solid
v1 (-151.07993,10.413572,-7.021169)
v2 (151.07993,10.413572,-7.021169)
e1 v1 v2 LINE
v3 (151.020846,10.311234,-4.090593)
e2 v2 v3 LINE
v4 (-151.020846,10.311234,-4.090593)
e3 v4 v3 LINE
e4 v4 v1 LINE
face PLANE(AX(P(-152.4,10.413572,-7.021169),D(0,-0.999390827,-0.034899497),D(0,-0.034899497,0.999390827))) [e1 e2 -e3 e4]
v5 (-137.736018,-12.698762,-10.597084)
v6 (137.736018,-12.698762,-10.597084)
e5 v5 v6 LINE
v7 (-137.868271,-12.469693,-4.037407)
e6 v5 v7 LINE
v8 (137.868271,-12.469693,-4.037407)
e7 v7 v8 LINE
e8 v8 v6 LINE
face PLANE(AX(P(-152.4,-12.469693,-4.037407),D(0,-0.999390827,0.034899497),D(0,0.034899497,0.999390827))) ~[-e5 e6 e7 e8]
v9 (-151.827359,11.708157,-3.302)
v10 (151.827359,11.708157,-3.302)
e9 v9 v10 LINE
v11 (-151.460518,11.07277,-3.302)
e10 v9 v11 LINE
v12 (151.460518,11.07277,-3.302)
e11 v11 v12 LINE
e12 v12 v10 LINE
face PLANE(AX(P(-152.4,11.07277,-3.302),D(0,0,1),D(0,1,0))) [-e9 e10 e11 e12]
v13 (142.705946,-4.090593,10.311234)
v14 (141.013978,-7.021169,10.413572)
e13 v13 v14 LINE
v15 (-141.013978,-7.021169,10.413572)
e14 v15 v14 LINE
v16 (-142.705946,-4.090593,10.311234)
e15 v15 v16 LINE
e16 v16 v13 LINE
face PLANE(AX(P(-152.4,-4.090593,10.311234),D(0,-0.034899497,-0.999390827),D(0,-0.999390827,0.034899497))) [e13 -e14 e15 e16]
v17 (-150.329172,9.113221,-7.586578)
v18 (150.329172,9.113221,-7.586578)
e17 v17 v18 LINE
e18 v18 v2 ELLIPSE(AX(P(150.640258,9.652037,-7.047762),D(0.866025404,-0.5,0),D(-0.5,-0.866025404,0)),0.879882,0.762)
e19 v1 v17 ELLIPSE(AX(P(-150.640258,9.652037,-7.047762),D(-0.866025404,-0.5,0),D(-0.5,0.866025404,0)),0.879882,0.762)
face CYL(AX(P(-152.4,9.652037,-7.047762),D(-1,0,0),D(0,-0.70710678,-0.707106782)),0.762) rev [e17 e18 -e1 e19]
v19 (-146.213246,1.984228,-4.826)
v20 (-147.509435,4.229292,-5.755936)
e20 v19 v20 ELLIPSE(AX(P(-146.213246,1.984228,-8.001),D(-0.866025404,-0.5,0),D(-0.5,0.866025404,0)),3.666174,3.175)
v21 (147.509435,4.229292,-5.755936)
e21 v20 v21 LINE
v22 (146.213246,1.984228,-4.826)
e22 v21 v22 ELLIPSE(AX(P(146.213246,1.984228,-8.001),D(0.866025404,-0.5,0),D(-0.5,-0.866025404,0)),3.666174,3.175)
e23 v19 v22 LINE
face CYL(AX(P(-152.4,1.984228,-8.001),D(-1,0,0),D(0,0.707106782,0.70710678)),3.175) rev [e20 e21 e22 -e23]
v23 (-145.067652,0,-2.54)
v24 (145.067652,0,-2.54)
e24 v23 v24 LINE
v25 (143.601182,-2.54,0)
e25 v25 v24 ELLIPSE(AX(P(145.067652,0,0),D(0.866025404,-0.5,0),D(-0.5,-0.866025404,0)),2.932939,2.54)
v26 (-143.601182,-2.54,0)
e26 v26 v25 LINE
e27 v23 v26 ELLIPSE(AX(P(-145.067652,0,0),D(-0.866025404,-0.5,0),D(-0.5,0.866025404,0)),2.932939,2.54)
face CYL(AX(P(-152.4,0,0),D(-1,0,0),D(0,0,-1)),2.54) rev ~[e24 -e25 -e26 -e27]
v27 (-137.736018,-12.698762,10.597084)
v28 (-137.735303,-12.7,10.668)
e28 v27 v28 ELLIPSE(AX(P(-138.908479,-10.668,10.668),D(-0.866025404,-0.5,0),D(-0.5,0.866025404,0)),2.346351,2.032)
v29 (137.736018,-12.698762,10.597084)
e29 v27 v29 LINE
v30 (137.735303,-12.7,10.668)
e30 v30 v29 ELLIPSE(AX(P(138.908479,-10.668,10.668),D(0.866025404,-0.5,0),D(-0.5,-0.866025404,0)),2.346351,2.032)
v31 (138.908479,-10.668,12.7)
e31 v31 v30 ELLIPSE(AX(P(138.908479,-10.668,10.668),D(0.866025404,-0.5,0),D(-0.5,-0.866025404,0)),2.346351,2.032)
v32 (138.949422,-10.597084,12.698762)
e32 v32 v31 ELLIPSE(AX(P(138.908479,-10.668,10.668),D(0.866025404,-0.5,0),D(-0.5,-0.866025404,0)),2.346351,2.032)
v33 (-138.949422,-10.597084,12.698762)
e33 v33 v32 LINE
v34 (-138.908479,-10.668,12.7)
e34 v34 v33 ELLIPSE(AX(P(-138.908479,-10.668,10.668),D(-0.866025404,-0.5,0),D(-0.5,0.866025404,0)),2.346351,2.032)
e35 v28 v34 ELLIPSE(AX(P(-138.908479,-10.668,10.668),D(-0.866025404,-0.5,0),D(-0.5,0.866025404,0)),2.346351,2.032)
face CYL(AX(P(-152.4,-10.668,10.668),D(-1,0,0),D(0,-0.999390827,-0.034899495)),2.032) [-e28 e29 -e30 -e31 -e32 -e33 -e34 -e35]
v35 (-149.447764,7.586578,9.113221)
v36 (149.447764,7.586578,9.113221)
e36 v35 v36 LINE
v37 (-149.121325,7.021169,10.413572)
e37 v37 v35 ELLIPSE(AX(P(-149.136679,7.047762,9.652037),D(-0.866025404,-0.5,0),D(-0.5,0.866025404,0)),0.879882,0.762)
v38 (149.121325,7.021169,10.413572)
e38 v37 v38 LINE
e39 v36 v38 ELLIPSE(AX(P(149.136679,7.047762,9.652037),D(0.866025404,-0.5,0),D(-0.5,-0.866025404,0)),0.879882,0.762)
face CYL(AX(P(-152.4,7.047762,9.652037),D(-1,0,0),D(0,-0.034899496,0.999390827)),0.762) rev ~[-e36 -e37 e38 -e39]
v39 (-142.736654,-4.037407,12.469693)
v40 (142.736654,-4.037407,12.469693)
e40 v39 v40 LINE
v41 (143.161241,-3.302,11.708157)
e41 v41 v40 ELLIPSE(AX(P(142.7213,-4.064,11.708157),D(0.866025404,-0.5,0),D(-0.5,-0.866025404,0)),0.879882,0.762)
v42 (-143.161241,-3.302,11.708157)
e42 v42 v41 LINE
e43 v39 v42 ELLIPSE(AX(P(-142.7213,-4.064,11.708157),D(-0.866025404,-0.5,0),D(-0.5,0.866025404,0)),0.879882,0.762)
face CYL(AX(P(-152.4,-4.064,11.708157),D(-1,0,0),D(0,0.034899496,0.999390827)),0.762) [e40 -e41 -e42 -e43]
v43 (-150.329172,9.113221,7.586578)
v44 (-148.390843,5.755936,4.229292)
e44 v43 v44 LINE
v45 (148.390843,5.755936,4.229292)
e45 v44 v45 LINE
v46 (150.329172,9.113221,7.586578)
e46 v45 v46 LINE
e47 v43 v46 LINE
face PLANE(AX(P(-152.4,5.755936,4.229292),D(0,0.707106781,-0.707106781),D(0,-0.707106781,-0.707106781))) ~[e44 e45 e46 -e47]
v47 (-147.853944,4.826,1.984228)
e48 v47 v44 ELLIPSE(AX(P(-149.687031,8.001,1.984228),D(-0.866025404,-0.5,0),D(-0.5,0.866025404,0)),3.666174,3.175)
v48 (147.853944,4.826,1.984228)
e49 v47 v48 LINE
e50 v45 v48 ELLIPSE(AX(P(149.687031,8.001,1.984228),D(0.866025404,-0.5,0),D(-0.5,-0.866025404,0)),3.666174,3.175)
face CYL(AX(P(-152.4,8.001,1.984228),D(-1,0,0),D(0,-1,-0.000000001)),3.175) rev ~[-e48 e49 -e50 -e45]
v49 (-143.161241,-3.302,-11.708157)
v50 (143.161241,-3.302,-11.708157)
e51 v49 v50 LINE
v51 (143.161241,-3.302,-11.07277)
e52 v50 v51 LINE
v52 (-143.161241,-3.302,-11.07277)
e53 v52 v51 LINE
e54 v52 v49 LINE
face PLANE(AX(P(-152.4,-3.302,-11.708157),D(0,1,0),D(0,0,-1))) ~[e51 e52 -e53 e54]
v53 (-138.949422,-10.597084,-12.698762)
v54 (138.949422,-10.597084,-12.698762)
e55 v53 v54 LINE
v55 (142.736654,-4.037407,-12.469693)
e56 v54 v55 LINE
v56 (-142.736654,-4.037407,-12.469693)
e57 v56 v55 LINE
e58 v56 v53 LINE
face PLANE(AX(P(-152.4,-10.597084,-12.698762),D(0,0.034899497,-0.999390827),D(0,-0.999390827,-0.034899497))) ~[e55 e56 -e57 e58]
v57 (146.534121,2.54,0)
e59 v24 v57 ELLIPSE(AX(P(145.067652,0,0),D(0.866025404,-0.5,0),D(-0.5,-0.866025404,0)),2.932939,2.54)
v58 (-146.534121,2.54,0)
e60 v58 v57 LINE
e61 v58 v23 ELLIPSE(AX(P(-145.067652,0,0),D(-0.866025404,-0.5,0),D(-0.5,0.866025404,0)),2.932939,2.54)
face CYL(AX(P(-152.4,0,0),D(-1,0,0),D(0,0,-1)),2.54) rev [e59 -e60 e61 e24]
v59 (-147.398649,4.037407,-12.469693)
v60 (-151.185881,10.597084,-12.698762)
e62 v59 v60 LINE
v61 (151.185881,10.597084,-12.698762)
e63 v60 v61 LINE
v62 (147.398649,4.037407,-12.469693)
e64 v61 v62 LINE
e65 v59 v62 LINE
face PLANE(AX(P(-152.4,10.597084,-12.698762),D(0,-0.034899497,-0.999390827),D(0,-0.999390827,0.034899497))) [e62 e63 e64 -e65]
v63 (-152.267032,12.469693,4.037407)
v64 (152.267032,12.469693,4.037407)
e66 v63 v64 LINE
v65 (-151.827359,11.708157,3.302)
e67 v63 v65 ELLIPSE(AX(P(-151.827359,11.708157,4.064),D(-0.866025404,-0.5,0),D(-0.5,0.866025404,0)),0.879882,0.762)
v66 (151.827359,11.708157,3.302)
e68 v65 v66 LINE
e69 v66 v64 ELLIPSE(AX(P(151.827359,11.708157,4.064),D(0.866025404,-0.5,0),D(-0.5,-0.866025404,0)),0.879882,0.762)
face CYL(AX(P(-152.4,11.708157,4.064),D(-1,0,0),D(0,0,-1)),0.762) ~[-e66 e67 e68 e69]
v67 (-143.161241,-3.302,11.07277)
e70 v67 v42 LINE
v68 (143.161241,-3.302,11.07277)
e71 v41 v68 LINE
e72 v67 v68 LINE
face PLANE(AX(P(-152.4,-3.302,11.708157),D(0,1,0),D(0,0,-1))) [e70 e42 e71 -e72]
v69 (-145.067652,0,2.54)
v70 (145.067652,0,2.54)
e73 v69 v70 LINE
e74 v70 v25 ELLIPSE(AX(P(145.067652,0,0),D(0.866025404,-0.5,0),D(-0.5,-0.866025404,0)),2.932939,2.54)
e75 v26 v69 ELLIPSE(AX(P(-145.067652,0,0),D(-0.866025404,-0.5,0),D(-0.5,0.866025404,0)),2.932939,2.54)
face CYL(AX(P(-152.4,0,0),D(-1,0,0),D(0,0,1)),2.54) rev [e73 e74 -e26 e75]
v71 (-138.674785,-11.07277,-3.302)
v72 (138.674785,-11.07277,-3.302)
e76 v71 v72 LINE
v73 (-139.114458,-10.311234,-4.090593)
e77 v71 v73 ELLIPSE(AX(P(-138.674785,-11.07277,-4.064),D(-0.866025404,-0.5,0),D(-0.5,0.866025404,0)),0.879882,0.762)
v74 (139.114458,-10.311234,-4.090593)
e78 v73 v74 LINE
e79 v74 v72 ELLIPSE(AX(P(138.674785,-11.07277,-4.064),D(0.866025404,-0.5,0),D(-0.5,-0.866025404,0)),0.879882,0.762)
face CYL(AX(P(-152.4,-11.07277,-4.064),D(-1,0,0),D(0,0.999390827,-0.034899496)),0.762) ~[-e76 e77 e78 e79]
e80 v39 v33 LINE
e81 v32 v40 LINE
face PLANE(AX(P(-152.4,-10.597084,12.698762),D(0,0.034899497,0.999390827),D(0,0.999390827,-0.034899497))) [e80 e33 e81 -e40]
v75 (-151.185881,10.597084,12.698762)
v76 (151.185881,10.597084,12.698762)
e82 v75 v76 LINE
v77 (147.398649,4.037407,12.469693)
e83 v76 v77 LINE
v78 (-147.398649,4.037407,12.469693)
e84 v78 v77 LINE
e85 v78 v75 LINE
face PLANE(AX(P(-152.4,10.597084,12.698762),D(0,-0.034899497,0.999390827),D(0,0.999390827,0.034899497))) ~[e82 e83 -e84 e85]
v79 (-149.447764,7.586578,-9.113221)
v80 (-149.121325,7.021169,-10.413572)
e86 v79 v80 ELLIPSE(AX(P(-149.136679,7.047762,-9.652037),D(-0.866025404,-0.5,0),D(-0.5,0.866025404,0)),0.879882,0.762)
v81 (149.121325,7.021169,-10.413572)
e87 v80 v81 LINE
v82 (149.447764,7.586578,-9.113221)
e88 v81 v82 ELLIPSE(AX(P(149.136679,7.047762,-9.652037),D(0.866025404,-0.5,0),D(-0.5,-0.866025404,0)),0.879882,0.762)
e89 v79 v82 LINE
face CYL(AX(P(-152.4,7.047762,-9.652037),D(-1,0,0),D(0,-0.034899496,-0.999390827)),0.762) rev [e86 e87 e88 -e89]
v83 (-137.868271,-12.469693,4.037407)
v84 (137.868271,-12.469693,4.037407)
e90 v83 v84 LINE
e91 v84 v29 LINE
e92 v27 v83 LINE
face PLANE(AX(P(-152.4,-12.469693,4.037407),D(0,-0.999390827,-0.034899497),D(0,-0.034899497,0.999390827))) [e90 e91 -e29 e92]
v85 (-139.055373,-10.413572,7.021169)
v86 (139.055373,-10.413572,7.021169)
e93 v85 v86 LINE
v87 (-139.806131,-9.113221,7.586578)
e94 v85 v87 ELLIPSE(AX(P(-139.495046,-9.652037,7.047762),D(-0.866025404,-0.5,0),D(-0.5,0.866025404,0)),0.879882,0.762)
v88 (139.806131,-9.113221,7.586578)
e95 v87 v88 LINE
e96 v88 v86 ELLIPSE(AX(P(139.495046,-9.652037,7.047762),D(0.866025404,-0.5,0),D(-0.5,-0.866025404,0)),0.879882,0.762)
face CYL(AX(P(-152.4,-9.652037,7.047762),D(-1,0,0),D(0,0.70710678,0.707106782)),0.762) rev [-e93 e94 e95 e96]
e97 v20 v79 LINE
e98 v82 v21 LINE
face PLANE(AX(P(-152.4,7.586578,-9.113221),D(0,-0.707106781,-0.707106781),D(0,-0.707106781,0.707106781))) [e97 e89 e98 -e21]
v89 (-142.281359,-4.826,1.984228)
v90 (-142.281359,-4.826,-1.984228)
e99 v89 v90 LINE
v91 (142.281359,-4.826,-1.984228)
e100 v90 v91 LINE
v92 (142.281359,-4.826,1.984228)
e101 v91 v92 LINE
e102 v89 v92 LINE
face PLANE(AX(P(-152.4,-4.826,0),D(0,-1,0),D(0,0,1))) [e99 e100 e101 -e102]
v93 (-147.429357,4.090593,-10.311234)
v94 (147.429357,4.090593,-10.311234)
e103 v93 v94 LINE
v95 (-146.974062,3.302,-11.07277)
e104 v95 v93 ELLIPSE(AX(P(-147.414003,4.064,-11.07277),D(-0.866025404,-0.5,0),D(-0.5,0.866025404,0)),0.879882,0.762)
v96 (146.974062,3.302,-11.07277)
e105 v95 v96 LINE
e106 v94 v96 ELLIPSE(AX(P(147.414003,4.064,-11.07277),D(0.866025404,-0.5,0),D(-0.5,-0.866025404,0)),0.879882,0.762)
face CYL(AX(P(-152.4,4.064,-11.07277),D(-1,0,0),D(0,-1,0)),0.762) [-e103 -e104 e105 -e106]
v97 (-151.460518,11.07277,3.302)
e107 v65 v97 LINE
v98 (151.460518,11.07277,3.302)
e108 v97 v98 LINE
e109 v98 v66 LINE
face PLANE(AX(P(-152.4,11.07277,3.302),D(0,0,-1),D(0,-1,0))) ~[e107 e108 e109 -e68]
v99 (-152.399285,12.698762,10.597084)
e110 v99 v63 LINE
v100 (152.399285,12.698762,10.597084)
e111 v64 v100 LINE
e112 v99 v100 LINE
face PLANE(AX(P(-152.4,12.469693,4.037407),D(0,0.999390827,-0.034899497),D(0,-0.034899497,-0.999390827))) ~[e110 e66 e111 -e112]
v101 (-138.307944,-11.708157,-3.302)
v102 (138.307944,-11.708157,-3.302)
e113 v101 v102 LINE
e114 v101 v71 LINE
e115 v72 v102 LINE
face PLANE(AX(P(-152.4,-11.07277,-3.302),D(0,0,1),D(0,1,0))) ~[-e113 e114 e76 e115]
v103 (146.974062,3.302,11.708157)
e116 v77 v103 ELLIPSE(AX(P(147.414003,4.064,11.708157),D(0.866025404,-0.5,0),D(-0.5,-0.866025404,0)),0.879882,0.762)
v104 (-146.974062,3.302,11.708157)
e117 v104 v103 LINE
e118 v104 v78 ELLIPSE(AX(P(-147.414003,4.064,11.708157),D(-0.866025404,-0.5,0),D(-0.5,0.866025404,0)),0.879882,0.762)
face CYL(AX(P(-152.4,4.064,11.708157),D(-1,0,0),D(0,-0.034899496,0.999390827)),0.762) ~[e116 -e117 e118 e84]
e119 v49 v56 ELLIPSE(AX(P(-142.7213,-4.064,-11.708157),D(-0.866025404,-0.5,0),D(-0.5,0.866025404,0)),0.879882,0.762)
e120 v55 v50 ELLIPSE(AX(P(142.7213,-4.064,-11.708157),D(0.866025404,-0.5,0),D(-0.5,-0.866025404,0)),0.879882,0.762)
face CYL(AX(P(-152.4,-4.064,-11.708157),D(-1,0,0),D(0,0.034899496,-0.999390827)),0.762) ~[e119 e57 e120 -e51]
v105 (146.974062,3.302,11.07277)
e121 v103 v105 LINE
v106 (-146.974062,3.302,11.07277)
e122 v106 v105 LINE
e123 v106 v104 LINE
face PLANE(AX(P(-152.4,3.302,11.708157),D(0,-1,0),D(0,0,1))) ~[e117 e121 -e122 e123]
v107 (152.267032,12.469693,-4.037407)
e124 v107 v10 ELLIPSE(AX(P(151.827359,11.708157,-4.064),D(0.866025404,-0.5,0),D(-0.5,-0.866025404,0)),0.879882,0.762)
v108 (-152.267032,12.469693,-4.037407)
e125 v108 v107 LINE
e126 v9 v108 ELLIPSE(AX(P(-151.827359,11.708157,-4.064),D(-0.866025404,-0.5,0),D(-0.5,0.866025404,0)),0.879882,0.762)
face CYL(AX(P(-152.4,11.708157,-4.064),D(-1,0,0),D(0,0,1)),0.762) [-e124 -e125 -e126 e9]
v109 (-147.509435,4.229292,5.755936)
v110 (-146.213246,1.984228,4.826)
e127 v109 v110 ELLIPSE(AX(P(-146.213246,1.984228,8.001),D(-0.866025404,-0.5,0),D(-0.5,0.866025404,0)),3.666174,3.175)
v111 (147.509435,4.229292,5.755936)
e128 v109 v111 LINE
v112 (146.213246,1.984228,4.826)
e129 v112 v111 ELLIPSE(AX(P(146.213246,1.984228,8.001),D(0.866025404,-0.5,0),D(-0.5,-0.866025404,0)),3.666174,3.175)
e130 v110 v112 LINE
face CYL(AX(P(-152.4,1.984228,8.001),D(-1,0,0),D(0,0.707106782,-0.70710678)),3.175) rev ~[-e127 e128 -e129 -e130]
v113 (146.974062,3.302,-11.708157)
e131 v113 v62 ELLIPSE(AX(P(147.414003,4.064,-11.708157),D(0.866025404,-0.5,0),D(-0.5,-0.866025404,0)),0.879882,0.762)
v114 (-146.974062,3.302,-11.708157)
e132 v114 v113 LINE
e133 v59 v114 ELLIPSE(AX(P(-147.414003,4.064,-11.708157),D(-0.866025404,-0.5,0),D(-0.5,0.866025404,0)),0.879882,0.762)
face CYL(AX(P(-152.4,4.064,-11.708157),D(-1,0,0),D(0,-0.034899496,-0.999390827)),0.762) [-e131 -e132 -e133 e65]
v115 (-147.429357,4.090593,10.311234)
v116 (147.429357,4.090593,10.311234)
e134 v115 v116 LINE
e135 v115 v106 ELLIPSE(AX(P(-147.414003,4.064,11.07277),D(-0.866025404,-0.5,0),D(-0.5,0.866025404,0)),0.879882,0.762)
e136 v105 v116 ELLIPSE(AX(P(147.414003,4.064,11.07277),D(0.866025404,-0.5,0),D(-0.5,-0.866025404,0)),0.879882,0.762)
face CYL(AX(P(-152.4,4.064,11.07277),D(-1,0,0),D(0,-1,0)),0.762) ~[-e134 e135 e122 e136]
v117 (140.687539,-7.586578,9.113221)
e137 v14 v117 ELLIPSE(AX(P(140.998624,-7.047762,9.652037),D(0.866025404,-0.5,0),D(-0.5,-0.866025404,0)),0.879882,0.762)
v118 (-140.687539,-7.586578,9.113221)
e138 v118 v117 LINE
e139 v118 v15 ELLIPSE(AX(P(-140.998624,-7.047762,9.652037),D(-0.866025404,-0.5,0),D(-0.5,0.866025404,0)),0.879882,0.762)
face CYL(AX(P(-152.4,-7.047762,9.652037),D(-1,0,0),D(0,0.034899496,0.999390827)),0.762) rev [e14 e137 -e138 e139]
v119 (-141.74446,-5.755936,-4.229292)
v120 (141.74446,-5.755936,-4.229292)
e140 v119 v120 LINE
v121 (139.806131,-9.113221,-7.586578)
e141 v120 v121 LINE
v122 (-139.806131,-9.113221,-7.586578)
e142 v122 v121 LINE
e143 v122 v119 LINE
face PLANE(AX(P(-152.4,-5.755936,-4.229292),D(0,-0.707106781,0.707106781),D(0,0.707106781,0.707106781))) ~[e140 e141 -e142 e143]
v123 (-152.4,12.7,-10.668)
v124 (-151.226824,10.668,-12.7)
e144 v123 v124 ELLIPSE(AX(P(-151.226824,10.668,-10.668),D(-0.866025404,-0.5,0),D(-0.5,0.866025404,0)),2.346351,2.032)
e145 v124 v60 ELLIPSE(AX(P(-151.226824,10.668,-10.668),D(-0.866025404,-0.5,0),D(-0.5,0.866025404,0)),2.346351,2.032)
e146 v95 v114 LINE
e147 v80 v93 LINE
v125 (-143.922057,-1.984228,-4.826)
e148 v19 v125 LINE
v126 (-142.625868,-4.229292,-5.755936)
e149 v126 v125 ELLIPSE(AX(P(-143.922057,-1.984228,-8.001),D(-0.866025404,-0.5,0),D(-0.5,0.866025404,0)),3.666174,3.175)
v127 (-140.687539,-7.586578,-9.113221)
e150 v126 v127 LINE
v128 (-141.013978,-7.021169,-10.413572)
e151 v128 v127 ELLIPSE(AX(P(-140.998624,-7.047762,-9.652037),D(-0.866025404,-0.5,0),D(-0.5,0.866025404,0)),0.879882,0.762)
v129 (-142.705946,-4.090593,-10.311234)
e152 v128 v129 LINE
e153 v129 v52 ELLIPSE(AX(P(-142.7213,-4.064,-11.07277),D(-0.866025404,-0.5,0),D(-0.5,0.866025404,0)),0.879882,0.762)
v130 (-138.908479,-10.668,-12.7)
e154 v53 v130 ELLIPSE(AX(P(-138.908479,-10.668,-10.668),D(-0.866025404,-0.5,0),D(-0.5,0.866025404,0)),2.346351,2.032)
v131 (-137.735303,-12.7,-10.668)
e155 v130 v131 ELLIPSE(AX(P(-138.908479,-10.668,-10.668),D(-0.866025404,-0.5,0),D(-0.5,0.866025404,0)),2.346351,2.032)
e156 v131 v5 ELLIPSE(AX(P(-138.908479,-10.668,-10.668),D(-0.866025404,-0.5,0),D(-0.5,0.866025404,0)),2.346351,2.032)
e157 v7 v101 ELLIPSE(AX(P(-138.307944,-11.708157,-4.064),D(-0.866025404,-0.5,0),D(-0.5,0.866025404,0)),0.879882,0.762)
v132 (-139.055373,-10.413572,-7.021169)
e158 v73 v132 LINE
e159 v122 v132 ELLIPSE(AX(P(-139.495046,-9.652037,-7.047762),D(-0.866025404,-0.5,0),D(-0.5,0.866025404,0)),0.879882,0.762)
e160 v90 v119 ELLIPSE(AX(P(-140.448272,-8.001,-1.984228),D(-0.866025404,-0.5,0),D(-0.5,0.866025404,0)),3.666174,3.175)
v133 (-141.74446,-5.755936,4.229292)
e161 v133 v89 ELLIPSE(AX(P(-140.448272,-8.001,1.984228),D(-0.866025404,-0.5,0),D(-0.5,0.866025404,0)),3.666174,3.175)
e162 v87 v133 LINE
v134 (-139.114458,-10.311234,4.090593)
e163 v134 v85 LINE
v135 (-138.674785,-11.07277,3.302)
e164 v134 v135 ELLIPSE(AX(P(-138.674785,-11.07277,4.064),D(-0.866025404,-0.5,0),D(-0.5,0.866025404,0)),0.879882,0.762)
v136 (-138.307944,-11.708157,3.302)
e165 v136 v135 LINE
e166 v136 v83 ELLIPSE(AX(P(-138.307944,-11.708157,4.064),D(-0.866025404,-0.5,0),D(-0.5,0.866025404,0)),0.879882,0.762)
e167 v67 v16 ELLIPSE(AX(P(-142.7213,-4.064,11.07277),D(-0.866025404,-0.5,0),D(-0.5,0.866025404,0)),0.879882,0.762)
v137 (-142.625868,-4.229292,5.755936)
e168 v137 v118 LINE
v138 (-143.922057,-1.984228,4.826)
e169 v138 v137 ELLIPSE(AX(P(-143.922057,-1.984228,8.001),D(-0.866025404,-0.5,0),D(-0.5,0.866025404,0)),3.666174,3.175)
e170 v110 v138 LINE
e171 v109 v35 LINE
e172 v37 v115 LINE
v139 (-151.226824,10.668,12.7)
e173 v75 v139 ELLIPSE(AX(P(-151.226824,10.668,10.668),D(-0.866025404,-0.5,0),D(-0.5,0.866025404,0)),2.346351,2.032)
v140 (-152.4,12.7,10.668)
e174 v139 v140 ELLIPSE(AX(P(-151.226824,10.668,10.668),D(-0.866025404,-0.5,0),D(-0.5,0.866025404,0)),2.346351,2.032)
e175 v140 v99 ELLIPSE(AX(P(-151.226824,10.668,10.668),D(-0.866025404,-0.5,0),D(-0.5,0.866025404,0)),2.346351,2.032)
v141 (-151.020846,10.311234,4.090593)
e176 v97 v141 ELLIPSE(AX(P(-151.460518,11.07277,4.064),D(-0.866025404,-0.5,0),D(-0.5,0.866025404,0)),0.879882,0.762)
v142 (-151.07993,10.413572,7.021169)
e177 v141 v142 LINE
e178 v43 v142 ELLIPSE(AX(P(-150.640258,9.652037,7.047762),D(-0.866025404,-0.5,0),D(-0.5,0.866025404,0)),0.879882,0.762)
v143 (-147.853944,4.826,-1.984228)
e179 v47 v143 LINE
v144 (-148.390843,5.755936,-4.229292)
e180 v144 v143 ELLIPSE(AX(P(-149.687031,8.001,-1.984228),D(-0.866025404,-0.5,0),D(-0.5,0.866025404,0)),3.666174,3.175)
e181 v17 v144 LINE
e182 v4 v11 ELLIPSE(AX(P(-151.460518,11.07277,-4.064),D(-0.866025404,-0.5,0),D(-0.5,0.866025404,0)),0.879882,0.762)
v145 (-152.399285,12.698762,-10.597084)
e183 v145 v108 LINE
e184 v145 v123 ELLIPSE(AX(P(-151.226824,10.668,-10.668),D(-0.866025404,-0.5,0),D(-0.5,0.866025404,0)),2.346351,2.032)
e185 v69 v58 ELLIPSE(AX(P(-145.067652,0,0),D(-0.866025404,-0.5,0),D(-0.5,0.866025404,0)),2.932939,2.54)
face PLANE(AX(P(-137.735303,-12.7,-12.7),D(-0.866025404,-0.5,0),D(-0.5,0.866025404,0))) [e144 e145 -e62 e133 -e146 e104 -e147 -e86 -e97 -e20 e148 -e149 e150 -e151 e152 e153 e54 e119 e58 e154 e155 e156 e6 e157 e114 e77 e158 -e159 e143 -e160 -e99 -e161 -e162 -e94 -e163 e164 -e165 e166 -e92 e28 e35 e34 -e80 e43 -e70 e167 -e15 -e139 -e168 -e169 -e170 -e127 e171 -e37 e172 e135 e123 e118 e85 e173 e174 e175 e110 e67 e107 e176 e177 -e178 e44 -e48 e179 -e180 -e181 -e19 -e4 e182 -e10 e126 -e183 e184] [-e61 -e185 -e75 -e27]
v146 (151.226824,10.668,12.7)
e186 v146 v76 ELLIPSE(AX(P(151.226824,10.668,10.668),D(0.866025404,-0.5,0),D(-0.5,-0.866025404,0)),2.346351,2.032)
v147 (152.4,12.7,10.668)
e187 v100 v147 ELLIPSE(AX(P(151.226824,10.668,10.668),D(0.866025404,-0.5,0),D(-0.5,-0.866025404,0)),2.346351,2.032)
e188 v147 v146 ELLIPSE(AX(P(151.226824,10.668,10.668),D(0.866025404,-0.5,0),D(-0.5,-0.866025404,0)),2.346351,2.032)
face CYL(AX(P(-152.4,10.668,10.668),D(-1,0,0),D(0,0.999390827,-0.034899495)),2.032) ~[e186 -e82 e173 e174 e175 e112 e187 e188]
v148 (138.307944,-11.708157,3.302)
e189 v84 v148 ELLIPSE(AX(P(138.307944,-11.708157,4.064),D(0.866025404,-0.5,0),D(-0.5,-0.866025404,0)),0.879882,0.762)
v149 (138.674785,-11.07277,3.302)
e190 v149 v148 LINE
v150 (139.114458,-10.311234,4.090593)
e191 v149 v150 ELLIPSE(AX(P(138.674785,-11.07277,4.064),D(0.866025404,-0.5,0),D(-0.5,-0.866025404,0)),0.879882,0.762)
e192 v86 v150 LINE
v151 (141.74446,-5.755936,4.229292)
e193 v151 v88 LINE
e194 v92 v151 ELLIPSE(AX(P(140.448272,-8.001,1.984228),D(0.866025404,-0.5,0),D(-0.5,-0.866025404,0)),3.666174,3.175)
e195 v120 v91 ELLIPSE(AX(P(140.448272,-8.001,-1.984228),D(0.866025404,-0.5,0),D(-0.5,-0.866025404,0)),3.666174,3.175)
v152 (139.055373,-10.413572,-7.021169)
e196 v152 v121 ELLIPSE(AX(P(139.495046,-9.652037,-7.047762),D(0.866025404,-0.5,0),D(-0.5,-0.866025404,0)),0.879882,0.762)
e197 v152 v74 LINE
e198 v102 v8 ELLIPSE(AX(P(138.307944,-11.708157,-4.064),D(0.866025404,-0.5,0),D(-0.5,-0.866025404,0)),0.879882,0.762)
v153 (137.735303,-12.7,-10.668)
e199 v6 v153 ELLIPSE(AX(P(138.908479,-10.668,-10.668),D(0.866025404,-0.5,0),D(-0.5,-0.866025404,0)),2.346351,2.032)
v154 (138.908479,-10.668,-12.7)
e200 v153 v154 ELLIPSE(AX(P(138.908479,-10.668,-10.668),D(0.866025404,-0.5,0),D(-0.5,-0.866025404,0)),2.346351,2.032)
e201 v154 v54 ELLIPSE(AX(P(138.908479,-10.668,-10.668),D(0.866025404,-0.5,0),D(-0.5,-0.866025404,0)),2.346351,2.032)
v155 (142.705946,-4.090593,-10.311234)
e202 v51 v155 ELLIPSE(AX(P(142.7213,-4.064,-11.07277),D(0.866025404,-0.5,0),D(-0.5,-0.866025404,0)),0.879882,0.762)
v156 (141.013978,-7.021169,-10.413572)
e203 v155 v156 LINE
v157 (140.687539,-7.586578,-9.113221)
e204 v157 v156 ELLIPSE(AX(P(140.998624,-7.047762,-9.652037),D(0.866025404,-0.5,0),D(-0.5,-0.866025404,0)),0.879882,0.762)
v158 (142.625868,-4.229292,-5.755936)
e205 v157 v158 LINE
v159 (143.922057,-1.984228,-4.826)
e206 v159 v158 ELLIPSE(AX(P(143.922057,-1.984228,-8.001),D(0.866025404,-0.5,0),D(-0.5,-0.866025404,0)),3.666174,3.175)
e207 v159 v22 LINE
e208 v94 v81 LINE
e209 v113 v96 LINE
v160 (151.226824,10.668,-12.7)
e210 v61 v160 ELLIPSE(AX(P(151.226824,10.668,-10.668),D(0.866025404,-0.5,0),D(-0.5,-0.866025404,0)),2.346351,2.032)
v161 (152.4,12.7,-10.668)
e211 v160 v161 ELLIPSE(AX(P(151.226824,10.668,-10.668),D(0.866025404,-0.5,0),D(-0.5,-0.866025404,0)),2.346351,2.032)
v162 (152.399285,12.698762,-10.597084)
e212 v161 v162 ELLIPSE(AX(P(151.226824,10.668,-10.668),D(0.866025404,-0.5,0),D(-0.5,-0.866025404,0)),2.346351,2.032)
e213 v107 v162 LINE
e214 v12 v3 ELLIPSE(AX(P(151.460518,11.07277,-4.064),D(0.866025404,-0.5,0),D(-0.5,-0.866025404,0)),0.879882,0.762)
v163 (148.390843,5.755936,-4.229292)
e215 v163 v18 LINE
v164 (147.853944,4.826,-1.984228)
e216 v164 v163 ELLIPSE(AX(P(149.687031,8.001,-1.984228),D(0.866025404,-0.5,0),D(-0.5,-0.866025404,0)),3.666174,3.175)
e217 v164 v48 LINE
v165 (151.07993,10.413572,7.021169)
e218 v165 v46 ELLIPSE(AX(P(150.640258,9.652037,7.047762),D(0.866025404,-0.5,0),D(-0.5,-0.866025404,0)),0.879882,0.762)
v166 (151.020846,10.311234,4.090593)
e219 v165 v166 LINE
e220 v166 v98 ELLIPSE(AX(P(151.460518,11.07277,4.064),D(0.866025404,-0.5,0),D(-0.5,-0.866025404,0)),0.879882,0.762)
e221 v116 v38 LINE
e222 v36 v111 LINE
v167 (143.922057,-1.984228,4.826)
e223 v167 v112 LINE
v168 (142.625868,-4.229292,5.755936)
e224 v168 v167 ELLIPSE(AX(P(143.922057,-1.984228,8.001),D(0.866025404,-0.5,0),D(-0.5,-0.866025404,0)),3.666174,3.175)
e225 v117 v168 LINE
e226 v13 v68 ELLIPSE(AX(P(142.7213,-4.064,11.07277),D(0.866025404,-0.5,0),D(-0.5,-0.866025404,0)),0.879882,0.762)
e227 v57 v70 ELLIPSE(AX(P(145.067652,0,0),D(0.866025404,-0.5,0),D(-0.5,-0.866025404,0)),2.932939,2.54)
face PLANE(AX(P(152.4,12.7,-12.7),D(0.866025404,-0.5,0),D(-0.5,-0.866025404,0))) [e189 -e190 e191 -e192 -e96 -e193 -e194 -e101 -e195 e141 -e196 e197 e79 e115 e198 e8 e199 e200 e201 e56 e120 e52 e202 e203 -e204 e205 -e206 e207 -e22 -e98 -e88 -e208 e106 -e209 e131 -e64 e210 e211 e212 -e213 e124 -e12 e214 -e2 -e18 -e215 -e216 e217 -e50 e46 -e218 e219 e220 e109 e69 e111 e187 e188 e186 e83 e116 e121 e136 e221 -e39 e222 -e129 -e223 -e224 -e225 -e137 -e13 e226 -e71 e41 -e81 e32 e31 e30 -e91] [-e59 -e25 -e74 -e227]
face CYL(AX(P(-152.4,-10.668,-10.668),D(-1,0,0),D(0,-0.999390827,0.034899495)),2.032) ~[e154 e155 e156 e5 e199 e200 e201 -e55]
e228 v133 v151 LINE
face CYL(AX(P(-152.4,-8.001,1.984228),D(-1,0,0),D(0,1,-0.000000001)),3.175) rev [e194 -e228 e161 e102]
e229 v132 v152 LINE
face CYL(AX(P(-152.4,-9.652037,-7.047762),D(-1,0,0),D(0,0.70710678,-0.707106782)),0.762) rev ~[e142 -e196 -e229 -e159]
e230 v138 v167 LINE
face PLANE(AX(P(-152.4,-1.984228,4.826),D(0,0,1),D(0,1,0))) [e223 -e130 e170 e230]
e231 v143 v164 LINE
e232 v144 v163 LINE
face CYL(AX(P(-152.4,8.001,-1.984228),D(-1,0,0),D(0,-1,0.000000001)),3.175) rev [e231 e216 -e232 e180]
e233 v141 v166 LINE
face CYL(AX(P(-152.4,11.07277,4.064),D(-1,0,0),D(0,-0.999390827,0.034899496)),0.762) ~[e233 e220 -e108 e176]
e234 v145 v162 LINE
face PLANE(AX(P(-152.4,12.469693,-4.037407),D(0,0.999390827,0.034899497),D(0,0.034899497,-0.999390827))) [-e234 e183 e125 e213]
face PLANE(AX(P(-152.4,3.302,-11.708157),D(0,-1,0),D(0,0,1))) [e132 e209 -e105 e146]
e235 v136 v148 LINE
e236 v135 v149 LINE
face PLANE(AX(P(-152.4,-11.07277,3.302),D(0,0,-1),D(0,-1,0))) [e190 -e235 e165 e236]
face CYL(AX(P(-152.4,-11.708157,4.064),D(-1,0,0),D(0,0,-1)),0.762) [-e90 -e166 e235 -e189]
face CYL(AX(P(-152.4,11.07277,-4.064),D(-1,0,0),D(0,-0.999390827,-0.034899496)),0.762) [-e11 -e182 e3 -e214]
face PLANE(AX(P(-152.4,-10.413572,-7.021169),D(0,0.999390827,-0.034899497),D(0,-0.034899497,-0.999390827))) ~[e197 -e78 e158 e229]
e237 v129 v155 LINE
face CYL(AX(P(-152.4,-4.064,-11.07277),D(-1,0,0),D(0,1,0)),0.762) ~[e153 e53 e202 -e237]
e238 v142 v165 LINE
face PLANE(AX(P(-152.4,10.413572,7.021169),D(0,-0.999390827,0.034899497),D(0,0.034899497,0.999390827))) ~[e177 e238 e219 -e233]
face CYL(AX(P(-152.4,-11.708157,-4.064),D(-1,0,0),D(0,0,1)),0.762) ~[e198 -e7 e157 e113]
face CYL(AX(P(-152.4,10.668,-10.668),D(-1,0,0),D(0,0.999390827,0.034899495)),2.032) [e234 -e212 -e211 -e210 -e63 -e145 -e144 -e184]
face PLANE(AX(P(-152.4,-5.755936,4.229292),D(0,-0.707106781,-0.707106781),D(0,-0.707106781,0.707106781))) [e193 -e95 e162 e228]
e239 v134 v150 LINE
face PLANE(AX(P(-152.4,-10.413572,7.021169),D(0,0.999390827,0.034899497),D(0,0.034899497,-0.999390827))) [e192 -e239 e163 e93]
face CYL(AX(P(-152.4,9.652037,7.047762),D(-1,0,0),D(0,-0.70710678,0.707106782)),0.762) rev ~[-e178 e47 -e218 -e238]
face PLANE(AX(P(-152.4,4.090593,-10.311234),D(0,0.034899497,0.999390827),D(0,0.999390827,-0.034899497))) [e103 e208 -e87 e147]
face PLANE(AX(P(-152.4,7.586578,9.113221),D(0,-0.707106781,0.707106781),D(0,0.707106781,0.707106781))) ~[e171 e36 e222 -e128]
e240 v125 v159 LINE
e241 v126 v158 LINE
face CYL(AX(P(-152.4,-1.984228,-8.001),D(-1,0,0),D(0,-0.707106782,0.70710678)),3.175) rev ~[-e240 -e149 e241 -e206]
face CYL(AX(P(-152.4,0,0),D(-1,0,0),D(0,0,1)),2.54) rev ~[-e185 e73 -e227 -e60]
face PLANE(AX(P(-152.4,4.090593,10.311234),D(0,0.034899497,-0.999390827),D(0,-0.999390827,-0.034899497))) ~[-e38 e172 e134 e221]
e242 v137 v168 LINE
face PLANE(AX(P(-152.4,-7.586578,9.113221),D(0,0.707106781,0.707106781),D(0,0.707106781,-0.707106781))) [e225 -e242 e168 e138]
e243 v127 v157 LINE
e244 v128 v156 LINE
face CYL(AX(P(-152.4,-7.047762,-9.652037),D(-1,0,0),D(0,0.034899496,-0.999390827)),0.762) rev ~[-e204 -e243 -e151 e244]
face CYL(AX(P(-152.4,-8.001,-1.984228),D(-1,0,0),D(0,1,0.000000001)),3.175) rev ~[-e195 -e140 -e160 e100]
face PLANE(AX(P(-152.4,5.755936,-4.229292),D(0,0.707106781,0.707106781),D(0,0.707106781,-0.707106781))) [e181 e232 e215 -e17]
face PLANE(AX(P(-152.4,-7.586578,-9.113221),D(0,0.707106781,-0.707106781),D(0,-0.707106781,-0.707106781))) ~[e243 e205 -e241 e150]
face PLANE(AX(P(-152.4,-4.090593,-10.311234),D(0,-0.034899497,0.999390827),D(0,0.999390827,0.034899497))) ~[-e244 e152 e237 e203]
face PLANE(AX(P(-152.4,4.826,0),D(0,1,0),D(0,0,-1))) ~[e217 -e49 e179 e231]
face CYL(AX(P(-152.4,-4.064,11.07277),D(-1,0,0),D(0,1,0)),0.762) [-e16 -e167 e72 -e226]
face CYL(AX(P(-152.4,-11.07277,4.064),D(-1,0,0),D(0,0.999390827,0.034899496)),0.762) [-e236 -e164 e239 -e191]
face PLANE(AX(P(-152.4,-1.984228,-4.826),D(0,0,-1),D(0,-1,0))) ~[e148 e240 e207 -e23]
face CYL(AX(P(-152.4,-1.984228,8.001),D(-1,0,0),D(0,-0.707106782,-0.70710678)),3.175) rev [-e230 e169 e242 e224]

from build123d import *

# Parameters (mm, degrees)
BOSS_EXTRUDE1_DEPTH      = 152.4
BOSS_EXTRUDE1_DEPTH_BACK = 152.4
CUT_EXTRUDE1_DEPTH       = 12.7
CUT_EXTRUDE1_DEPTH_BACK  = 12.7


with BuildPart() as part:
    # Sketch3 → Boss-Extrude1 (new, two sides: drawn at the far end of the back side and taken through both)
    with BuildSketch(Plane(origin=(0, 0, 0), x_dir=(0, 0, -1), z_dir=(1, 0, 0)).offset(-BOSS_EXTRUDE1_DEPTH_BACK)):
        with BuildLine():
            Line((0, 4.826), (1.984228399, 4.826))
            ThreePointArc((1.984228399, 4.826), (3.199248297, 5.067682484), (4.229292429, 5.75593597))
            Line((4.229292429, 5.75593597), (7.586577723, 9.113221264))
            ThreePointArc((7.586577723, 9.113221264), (7.746562132, 9.955883421), (7.021168939, 10.413572441))
            Line((7.021168939, 10.413572441), (4.090593416, 10.311234489))
            ThreePointArc((4.090593416, 10.311234489), (3.534670322, 10.524633371), (3.302, 11.072770299))
            Line((3.302, 11.072770299), (3.302, 11.70815736))
            ThreePointArc((3.302, 11.70815736), (3.515863072, 12.237487038), (4.037406584, 12.46969317))
            Line((4.037406584, 12.46969317), (10.597084223, 12.698762161))
            ThreePointArc((10.597084223, 12.698762161), (12.104840979, 12.104840979), (12.698762161, 10.597084223))
            Line((12.698762161, 10.597084223), (12.46969317, 4.037406584))
            ThreePointArc((12.46969317, 4.037406584), (12.237487038, 3.515863072), (11.70815736, 3.302))
            Line((11.70815736, 3.302), (11.072770299, 3.302))
            ThreePointArc((11.072770299, 3.302), (10.524633371, 3.534670322), (10.311234489, 4.090593416))
            Line((10.311234489, 4.090593416), (10.413572441, 7.021168939))
            ThreePointArc((10.413572441, 7.021168939), (9.955883421, 7.746562132), (9.113221264, 7.586577723))
            Line((9.113221264, 7.586577723), (5.75593597, 4.229292429))
            ThreePointArc((5.75593597, 4.229292429), (5.067682484, 3.199248297), (4.826, 1.984228399))
            Line((4.826, 1.984228399), (4.826, 0))
            Line((4.826, 0), (2.54, 0))
            ThreePointArc((2.54, 0), (1.796051224, 1.796051224), (0, 2.54))
            Line((0, 2.54), (0, 4.826))
        make_face()
    extrude(amount=BOSS_EXTRUDE1_DEPTH + BOSS_EXTRUDE1_DEPTH_BACK)

    # Mirror1: part across plane


with BuildPart() as part_1:
    add(part.part)
    add(part.part.mirror(Plane.ZX))

    # Mirror2: part across plane


with BuildPart() as part_2:
    add(part_1.part)
    add(part_1.part.mirror(Plane.XY))

    # Sketch4 → Cut-Extrude1 (cut, two sides: drawn at the far end of the back side and taken through both)
    with BuildSketch(Plane.XY.offset(-CUT_EXTRUDE1_DEPTH_BACK)):
        Polygon((-154.94, -38.1), (154.94, -38.1), (154.94, 12.7), (152.4, 12.7), (137.735303163, -12.7), (-137.735303163, -12.7), (-152.4, 12.7), (-154.94, 12.7), align=None)
    extrude(amount=CUT_EXTRUDE1_DEPTH + CUT_EXTRUDE1_DEPTH_BACK, mode=Mode.SUBTRACT)


solid = part_2.part
